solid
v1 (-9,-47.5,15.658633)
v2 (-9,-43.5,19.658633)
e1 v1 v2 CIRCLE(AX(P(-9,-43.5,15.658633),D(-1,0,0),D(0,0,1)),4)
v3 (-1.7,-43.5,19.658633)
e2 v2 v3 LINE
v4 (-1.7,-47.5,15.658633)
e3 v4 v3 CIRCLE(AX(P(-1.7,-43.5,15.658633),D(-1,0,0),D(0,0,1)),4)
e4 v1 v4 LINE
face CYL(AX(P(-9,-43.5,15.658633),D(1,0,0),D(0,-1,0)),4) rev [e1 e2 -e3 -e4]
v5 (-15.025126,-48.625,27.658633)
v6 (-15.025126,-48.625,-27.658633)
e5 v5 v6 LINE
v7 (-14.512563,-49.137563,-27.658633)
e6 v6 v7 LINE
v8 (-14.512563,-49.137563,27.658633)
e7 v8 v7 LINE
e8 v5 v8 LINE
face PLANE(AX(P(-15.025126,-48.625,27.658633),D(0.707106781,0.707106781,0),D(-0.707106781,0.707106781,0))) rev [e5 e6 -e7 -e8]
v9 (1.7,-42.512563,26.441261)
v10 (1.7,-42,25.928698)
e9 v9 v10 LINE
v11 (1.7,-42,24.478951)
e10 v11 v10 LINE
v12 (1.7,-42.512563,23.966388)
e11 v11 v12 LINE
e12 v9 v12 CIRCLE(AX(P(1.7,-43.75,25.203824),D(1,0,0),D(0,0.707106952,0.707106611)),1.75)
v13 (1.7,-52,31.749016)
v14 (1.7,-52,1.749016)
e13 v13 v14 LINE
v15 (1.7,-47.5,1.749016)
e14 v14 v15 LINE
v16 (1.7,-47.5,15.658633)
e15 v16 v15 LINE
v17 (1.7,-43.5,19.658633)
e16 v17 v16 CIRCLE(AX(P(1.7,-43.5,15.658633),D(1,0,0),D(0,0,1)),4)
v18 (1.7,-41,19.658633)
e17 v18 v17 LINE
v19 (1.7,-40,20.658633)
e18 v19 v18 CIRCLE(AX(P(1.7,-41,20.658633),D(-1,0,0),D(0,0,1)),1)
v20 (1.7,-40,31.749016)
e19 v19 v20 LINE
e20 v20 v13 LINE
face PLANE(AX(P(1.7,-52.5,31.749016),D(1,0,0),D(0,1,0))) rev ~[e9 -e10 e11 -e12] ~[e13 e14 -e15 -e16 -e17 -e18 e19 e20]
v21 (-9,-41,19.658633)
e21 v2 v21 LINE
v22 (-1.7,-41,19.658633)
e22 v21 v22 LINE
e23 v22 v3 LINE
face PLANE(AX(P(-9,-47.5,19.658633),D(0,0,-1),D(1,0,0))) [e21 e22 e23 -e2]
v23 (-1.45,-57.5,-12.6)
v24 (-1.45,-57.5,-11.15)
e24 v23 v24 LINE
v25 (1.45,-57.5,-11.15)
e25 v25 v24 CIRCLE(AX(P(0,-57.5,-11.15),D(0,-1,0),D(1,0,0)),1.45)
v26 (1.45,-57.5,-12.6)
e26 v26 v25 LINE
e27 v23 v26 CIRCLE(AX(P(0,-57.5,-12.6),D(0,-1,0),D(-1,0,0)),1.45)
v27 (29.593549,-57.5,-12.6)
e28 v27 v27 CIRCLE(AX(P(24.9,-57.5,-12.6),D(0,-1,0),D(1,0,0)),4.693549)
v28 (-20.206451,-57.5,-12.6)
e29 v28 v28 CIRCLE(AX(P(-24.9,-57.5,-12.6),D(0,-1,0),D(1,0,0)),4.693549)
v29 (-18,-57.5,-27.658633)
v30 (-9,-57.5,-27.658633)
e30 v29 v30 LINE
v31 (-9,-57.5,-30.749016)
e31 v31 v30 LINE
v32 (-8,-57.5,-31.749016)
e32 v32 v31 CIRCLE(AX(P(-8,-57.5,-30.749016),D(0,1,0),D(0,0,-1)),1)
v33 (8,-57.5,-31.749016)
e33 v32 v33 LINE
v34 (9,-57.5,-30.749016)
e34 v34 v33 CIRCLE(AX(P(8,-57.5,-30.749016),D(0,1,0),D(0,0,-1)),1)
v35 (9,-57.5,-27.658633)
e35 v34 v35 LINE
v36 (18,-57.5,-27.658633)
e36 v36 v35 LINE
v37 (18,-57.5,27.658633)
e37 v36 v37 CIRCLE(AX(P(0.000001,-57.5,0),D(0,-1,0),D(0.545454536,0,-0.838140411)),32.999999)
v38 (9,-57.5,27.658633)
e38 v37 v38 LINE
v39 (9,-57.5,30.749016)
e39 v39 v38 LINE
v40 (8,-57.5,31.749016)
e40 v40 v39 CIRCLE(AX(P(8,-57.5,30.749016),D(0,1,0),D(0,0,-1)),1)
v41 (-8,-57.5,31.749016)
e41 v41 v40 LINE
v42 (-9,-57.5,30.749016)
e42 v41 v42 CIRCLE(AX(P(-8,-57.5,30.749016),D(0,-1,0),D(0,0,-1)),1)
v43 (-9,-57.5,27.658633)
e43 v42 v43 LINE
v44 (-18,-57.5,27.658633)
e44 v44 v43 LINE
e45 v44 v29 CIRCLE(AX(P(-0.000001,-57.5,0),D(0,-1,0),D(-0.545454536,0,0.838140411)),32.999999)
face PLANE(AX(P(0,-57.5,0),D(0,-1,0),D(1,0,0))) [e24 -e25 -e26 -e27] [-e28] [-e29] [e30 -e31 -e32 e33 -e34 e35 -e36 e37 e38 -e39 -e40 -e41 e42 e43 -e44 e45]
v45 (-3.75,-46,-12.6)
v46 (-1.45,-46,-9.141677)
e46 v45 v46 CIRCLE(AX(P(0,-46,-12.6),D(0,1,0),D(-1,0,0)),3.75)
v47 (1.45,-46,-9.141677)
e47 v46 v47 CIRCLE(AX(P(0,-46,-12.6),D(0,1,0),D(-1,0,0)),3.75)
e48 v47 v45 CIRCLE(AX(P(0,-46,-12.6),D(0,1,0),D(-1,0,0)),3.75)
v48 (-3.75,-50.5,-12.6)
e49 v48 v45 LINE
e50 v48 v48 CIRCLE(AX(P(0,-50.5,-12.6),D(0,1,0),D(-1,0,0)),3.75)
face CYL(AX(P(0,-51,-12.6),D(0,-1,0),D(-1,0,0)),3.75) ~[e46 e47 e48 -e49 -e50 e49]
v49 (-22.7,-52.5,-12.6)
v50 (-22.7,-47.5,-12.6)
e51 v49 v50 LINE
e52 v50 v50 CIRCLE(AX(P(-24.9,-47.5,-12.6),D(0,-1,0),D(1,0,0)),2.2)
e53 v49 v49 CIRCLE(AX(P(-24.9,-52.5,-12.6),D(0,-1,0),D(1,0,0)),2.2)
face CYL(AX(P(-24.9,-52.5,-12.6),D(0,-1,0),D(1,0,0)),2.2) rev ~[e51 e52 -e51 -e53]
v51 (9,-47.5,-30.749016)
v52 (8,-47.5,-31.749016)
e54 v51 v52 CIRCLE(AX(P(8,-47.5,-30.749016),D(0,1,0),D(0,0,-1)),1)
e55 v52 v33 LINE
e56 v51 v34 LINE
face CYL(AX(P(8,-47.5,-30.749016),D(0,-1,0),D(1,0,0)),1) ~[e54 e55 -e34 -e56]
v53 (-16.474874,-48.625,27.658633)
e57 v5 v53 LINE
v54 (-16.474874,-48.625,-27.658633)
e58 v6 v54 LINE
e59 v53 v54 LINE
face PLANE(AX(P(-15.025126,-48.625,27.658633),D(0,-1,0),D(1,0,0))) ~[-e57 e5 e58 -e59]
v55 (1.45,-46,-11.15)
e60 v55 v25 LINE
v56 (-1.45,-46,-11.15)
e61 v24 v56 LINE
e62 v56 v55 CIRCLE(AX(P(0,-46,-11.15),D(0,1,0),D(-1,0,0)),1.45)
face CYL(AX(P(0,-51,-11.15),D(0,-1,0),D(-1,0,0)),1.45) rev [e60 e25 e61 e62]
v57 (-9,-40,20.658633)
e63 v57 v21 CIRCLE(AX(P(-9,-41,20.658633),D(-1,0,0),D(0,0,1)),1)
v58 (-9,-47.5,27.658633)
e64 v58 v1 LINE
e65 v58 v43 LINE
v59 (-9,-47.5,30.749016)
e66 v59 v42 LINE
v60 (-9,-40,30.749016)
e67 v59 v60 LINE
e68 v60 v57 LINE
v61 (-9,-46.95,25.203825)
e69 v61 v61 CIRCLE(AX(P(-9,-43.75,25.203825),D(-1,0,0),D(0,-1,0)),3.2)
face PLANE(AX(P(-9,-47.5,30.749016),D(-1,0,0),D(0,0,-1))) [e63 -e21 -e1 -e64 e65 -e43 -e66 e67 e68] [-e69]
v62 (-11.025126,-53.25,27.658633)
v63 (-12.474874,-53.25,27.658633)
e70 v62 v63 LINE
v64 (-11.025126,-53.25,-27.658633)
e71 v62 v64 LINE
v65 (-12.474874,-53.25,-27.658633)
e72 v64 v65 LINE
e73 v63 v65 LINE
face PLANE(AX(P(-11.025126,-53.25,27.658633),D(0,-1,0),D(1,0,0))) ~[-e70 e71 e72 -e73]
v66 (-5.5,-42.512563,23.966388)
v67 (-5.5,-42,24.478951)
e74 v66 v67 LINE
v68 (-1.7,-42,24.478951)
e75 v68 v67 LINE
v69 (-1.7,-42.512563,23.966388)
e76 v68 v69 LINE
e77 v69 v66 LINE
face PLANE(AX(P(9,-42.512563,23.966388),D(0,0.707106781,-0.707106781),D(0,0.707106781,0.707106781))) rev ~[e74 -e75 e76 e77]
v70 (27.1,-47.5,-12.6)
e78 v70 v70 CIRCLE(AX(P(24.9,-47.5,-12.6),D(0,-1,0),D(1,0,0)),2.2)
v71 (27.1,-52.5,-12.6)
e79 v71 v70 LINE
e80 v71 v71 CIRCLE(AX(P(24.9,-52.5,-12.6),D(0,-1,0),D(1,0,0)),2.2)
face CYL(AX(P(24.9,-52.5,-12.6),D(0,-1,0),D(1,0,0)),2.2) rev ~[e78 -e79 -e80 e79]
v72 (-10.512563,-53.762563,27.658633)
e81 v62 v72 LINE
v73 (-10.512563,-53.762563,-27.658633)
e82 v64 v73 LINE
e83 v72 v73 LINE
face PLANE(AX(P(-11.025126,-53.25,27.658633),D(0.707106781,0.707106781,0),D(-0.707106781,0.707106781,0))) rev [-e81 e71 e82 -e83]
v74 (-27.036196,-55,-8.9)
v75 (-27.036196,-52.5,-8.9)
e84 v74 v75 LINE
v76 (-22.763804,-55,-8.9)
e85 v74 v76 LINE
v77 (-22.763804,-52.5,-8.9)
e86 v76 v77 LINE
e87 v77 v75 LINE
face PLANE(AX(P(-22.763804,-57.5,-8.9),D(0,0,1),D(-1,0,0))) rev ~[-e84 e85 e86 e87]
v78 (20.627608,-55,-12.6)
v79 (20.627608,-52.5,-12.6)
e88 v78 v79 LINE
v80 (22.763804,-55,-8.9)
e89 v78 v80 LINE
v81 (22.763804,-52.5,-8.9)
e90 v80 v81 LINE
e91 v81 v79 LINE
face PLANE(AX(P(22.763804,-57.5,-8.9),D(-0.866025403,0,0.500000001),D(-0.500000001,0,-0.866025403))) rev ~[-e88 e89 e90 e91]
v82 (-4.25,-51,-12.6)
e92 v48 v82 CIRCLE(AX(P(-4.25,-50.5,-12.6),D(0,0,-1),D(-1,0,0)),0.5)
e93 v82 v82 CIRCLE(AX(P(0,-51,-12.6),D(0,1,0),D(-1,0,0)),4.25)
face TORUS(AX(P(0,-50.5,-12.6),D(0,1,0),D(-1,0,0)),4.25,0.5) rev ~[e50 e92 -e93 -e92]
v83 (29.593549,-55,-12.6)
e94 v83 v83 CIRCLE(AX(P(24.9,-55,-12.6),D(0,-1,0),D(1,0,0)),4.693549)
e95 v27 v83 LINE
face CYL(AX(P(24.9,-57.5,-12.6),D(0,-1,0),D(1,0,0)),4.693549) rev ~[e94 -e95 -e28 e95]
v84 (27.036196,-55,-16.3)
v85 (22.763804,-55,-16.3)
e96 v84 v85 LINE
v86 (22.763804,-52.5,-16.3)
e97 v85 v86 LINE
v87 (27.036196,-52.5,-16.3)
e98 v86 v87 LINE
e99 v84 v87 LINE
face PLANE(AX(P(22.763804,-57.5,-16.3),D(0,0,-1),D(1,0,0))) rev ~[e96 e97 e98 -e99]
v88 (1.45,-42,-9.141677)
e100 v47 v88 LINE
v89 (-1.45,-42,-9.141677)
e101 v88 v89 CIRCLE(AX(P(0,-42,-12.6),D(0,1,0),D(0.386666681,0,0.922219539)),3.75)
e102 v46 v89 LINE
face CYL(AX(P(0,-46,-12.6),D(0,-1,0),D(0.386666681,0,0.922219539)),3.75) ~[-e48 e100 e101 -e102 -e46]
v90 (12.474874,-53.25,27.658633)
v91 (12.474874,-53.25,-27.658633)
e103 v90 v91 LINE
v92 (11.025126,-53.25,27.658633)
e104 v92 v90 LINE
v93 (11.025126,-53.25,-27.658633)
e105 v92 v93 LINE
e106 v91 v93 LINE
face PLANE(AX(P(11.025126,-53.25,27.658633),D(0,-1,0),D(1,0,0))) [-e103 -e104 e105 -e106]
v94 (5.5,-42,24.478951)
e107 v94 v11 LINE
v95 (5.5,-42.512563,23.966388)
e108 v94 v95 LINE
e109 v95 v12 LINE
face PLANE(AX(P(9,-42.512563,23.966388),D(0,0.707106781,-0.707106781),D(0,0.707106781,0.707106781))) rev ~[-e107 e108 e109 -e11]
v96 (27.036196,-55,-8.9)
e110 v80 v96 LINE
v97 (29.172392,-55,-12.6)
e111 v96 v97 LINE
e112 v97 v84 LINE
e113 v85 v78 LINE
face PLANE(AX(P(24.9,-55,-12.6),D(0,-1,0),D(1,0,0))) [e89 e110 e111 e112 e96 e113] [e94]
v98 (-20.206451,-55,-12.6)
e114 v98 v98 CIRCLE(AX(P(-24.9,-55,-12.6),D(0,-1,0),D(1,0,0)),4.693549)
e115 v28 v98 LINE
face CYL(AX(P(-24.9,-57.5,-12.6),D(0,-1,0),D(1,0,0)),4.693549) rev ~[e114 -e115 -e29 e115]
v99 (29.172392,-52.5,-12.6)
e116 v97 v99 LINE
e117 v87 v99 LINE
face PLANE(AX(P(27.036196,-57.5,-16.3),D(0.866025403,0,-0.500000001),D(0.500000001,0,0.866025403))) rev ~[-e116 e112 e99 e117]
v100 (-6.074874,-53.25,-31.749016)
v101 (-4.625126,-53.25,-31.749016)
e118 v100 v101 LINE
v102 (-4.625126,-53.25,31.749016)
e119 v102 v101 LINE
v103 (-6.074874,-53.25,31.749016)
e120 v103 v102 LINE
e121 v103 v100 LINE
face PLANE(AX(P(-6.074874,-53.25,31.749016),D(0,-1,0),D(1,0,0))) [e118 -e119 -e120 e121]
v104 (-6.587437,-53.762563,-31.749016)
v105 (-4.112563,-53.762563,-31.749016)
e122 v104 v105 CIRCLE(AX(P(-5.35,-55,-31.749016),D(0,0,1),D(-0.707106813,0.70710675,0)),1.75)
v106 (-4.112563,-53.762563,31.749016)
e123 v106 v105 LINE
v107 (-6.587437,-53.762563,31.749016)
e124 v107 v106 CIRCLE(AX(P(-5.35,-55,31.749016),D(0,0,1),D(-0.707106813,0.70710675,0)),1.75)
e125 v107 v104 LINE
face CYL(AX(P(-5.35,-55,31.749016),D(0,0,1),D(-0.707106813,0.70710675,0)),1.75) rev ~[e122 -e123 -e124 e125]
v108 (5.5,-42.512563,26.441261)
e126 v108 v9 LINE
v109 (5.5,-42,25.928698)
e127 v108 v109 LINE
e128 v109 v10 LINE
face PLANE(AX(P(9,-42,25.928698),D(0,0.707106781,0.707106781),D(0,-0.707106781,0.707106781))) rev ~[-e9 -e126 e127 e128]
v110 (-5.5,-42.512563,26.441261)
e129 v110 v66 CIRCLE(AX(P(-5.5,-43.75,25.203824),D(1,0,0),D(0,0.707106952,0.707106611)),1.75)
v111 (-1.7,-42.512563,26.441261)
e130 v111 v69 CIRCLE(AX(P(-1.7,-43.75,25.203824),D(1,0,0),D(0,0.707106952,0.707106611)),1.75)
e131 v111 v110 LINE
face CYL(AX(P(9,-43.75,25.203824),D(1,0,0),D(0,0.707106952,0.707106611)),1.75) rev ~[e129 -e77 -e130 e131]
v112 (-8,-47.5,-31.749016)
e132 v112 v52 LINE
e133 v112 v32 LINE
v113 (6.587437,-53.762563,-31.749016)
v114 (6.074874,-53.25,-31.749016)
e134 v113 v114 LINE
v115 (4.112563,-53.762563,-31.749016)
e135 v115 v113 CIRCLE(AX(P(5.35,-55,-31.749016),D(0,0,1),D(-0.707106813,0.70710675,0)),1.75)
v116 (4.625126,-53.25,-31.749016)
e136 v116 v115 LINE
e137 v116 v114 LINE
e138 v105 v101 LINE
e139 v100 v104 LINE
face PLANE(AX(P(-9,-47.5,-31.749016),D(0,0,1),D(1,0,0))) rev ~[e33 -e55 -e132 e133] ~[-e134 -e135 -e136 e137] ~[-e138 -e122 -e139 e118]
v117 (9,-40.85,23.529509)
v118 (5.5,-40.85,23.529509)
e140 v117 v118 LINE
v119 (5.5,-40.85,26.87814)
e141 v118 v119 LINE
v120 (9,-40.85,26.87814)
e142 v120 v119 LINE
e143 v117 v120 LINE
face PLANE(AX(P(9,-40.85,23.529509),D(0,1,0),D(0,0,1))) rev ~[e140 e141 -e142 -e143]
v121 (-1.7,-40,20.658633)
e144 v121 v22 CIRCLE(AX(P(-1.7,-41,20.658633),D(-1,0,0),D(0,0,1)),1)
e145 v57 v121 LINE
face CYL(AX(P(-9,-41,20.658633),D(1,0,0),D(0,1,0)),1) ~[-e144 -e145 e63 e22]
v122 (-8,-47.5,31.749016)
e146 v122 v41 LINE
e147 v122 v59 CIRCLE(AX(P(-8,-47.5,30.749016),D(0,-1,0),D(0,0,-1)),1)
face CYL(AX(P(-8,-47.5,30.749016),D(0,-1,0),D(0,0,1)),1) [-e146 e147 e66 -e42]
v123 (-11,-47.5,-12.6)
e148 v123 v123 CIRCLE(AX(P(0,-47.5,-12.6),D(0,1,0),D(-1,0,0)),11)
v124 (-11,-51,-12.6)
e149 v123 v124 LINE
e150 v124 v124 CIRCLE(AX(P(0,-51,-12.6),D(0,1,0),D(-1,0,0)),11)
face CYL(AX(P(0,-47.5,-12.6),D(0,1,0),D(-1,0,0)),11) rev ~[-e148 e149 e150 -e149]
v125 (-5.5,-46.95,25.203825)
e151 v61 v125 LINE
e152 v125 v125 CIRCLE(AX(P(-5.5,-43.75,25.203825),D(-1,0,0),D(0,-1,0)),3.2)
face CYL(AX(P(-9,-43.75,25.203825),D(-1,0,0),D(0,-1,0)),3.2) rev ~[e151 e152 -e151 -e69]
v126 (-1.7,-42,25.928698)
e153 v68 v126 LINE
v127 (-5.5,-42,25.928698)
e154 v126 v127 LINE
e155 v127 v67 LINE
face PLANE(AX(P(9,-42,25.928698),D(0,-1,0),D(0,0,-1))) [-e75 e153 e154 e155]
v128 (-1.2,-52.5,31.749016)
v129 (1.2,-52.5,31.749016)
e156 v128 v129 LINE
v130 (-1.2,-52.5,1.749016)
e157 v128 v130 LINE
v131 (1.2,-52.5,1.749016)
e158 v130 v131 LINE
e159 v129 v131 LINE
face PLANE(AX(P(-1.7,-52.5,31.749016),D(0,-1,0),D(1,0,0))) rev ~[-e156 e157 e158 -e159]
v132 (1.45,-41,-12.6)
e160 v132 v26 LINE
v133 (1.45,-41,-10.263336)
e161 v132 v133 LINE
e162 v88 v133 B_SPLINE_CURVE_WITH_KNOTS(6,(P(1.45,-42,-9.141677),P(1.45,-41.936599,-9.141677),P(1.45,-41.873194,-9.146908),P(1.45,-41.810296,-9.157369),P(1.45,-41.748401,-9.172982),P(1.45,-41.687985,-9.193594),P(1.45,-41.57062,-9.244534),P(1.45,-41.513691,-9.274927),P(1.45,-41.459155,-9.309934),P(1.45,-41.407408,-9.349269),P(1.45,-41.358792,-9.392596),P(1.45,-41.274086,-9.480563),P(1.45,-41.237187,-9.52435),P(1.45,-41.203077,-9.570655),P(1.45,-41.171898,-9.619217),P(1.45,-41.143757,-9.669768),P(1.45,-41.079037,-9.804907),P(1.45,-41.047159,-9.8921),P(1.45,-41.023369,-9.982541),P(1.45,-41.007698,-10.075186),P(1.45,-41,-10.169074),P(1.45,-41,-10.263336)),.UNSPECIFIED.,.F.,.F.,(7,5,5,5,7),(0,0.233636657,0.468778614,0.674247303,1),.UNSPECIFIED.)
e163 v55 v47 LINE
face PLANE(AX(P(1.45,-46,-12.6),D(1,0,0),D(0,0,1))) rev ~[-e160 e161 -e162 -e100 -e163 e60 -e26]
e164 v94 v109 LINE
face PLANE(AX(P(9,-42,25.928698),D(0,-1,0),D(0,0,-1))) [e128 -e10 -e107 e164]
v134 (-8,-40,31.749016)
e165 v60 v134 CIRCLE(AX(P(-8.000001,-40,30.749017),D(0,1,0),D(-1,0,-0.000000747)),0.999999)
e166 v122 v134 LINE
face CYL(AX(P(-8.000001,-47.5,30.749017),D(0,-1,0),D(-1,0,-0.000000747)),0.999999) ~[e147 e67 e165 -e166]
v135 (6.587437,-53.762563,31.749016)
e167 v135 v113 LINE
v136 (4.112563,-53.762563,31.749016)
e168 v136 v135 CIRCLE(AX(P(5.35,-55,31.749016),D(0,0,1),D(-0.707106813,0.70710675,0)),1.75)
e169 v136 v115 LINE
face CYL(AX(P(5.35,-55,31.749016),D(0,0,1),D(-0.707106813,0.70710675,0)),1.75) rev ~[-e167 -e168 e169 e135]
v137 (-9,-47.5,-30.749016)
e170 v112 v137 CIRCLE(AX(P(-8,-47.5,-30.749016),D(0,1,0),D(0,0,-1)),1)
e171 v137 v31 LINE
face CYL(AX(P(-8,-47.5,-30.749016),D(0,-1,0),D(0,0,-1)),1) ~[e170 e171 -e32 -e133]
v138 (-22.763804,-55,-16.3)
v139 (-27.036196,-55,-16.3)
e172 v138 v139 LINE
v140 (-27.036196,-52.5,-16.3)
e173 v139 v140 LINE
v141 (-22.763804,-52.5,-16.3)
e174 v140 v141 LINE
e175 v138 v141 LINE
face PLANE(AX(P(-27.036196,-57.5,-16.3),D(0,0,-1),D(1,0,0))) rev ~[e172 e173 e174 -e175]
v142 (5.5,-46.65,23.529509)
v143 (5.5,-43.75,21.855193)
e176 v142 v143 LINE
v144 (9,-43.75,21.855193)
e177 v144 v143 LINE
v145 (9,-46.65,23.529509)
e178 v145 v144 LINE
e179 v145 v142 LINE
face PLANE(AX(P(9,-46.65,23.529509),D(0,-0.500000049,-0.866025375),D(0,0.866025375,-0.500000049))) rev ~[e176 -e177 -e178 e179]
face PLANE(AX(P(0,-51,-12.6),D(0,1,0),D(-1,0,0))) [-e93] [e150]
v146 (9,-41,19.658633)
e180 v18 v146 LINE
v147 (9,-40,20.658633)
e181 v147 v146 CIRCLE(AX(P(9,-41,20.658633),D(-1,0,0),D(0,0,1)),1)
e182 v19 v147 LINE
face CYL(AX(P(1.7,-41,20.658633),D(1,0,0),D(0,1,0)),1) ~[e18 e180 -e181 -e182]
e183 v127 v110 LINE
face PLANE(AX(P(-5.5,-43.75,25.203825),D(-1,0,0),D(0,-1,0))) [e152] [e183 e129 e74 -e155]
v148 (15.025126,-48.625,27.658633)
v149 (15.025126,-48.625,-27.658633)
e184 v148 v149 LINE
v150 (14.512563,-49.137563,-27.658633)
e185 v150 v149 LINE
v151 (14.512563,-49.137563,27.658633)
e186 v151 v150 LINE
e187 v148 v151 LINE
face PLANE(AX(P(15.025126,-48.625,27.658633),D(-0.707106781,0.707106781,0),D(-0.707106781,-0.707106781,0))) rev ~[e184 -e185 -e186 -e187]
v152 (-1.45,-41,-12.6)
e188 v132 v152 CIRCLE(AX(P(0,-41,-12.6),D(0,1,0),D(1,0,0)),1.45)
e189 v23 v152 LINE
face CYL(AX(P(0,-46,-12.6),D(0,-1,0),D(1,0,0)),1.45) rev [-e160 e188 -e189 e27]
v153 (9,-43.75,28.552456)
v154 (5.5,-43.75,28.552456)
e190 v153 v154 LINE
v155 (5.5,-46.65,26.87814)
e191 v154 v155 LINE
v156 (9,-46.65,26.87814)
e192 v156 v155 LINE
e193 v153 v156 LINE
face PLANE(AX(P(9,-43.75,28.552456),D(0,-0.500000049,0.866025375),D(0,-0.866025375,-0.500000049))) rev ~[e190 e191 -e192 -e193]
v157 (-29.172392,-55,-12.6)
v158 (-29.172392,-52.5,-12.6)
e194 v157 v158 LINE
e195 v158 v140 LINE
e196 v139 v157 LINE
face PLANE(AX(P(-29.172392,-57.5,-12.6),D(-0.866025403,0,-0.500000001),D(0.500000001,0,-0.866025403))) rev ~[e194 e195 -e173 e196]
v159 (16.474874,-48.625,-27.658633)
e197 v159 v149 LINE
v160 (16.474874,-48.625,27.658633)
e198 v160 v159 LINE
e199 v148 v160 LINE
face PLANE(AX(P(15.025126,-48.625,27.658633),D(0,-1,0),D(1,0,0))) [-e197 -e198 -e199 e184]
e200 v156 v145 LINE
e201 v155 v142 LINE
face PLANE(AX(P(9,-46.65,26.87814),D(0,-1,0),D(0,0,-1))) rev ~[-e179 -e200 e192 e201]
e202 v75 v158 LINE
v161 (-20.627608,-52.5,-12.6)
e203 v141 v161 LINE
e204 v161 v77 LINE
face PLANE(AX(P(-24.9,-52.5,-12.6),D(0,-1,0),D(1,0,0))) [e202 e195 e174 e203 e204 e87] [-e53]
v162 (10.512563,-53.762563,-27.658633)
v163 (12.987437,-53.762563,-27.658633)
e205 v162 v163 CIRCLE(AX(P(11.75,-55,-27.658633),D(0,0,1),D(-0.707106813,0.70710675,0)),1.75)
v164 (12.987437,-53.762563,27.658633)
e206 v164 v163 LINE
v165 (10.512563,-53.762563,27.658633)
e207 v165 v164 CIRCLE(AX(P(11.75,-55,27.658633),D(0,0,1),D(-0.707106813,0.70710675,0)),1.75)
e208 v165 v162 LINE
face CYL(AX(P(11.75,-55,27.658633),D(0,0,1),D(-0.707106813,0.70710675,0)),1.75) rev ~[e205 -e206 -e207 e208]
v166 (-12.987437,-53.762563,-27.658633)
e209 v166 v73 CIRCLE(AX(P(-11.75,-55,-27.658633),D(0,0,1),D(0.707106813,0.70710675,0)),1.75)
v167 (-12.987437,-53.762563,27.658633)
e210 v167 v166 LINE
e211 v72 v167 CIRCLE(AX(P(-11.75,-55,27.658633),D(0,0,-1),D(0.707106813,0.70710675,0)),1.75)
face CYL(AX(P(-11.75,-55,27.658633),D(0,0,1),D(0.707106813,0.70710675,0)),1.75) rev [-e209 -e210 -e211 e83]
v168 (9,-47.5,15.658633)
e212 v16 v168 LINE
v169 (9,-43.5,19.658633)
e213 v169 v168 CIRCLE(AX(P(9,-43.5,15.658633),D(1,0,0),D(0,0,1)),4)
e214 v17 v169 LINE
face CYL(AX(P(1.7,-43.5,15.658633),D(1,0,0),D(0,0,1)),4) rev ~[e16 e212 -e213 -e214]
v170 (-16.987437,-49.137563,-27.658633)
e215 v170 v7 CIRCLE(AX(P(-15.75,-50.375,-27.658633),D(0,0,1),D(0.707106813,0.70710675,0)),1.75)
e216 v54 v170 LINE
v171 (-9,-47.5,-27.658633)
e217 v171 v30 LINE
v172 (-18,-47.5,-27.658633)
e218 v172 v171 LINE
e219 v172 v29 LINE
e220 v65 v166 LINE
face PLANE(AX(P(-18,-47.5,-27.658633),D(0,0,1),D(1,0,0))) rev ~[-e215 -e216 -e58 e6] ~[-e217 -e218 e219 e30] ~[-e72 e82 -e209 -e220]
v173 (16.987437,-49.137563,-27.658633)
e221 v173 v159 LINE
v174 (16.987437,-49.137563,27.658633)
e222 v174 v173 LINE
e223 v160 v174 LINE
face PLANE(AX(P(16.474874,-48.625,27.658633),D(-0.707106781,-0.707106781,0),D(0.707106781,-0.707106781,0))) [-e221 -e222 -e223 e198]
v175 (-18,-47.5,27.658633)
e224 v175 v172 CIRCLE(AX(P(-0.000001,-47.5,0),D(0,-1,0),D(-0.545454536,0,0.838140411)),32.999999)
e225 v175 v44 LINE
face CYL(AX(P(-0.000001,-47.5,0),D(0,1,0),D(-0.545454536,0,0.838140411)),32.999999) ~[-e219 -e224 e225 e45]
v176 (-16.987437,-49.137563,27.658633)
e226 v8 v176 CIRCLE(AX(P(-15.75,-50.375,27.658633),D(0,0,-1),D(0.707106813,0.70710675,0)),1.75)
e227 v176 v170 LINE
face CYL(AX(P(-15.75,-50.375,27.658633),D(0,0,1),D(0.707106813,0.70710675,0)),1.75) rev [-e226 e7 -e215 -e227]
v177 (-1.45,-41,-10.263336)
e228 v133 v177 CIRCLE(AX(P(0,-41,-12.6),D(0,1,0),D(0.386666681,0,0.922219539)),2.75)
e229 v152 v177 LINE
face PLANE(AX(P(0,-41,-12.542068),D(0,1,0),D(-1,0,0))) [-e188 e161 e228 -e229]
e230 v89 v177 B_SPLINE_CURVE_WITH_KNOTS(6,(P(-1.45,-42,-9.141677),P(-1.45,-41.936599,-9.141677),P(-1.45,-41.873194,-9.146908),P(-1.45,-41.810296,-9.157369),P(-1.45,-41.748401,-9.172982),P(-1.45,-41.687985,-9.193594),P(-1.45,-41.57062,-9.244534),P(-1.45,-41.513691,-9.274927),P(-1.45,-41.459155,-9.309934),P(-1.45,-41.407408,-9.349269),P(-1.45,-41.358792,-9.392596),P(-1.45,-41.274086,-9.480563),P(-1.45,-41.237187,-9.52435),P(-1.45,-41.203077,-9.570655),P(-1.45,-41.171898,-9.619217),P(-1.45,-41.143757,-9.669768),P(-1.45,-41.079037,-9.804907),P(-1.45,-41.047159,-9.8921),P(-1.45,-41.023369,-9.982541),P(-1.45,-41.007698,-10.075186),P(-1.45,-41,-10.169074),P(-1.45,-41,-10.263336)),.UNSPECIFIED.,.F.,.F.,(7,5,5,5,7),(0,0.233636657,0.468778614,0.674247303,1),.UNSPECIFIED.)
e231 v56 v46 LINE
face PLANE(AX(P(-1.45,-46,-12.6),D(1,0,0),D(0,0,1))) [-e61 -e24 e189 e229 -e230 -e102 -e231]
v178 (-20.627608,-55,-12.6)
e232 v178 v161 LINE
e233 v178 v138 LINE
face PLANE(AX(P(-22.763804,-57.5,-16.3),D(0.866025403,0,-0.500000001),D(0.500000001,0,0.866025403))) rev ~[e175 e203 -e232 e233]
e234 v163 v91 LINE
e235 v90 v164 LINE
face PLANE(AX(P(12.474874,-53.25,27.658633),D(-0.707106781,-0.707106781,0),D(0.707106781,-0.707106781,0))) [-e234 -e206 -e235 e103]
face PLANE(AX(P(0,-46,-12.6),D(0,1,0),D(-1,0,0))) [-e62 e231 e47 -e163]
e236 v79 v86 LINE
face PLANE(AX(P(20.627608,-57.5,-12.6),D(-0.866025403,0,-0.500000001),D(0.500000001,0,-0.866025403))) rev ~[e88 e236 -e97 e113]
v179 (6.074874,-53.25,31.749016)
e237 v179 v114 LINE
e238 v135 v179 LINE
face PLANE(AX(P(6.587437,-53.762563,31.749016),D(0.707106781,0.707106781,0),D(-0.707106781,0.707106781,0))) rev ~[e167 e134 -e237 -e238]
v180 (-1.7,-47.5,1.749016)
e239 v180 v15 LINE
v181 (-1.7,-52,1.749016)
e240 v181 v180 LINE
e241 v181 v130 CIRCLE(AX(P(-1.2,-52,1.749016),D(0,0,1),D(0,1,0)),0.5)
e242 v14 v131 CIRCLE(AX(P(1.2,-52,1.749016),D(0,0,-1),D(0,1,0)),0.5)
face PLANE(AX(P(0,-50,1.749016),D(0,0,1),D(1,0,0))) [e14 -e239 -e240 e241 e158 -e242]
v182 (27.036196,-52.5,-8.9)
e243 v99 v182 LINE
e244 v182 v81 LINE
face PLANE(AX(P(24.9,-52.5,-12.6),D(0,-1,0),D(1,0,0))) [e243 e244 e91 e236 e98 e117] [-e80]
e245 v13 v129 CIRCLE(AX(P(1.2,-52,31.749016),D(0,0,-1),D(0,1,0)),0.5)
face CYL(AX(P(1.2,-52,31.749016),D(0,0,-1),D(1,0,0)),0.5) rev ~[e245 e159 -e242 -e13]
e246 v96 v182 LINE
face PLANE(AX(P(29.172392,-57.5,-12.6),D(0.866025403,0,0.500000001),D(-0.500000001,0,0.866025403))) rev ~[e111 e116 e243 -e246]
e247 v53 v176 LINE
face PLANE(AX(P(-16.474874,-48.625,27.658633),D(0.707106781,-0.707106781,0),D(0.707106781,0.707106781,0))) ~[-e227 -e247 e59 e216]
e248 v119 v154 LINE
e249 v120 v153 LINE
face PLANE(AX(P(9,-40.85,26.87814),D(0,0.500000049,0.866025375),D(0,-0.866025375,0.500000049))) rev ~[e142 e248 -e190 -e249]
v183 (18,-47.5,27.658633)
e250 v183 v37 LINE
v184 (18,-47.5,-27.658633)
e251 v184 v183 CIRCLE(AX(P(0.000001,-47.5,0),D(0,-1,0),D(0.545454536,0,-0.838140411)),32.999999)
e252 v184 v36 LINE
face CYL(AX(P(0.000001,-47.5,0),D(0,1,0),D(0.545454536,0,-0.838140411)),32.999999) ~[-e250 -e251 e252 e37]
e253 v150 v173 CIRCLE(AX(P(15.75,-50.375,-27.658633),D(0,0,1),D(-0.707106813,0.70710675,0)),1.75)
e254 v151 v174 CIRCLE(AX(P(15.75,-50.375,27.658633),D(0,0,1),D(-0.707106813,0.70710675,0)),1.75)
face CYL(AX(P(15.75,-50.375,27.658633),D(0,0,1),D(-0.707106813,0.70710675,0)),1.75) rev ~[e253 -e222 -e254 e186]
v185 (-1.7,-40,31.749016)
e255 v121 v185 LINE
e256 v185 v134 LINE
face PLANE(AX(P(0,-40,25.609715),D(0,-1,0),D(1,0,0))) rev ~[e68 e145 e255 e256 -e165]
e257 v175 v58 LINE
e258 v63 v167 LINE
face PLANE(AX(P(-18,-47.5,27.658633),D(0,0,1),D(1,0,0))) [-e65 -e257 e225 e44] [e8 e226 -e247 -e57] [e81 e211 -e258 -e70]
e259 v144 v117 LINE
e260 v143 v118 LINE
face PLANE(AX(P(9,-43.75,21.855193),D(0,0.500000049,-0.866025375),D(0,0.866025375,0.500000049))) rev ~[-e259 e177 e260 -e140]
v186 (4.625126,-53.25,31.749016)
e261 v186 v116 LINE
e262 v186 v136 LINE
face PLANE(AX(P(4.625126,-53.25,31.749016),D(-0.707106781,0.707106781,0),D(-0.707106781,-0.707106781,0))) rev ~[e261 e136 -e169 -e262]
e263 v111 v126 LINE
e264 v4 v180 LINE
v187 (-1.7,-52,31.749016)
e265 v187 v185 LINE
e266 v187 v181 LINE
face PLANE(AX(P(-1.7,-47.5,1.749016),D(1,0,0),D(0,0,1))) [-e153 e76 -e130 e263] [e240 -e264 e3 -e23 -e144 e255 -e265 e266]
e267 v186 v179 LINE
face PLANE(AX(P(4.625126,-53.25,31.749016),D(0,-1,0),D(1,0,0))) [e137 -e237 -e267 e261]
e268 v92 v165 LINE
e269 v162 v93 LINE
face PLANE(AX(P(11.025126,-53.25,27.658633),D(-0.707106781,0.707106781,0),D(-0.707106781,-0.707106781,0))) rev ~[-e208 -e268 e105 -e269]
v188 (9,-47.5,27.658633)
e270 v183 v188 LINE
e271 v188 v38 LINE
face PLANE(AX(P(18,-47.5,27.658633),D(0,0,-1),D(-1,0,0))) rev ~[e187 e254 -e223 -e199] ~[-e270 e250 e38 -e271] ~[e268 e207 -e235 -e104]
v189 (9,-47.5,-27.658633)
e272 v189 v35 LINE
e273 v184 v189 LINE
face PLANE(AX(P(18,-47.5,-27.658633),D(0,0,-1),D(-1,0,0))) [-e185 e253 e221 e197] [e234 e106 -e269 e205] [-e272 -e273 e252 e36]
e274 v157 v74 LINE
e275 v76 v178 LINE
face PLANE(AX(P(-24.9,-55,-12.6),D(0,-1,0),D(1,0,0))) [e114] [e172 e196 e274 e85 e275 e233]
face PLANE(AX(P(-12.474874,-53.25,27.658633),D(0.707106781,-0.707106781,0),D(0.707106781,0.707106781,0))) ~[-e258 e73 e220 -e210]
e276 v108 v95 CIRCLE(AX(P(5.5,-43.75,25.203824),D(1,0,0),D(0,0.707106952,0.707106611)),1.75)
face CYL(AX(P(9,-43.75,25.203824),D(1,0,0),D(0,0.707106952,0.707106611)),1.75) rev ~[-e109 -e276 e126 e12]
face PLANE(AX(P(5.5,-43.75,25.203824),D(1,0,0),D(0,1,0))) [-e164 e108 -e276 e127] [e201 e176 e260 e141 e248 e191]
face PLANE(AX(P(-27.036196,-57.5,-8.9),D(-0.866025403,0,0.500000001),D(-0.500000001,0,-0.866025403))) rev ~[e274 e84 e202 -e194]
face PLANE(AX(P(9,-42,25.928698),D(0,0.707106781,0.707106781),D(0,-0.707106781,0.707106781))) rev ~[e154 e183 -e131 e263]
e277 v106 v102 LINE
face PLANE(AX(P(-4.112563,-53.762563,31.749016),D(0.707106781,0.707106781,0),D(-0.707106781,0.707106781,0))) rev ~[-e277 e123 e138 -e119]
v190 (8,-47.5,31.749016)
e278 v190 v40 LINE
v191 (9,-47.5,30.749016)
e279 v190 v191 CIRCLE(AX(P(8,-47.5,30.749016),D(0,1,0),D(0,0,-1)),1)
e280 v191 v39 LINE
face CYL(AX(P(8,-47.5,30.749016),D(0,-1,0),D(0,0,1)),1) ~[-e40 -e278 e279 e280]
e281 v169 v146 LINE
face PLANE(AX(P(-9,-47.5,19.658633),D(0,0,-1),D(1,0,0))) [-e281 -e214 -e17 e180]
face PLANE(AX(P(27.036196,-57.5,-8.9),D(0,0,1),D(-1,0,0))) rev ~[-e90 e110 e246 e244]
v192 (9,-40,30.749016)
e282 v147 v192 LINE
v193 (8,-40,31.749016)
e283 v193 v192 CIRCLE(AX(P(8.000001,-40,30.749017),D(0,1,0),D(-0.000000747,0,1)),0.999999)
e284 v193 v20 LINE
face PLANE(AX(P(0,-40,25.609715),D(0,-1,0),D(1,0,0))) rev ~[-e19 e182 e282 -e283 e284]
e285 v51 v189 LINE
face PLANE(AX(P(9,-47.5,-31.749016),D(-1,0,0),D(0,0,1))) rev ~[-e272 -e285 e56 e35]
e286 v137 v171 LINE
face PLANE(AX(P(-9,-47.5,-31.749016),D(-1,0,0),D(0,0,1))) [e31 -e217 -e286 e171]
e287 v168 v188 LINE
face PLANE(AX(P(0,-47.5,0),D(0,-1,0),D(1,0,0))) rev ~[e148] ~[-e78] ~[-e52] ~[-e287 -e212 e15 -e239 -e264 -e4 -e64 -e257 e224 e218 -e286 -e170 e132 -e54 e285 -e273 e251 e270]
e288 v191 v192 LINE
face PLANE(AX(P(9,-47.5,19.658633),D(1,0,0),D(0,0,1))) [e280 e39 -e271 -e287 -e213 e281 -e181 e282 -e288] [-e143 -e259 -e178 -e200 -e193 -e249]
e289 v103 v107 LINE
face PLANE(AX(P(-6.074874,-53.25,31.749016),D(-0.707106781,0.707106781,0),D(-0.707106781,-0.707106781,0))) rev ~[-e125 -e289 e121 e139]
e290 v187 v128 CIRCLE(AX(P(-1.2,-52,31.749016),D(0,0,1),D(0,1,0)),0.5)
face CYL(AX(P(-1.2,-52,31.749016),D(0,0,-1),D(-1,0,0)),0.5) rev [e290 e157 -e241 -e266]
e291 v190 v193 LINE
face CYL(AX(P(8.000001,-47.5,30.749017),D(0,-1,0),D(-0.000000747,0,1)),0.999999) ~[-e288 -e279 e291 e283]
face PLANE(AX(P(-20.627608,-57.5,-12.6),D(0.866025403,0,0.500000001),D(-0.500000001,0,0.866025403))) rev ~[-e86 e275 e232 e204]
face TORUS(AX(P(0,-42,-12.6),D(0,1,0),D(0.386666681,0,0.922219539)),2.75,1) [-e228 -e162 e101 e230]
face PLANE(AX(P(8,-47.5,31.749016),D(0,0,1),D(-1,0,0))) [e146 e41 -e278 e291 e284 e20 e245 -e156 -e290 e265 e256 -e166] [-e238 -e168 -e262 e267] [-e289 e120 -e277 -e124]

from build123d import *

# Parameters (mm, degrees)
PAD012_DEPTH    = 10
SKETCH027_W     = 3.4
SKETCH027_H     = 5
POCKET_DEPTH    = 30
POCKET012_DEPTH = 247.759716
SKETCH029_R     = 11
POCKET013_DEPTH = 3.5
POCKET014_DEPTH = 5
SKETCH031_R     = 2.2
POCKET015_DEPTH = 5.001
POCKET016_DEPTH = 243.669334
FILLET_R        = 0.5
FILLET001_R     = 1
FILLET002_R     = 1
SKETCH048_R     = 3.75
PAD019_DEPTH    = 5
SKETCH049_R     = 4.693549
POCKET026_DEPTH = 2.5
FILLET012_R     = 0.5
PAD020_DEPTH    = 5
FILLET013_R     = 1
PAD021_DEPTH    = 7.5
POCKET029_DEPTH = 5
POCKET030_DEPTH = 18
SKETCH055_W     = 3.4
SKETCH055_H     = 44.110421
POCKET031_DEPTH = 10
POCKET032_DEPTH = 3.5
SKETCH057_R     = 3.2
POCKET033_DEPTH = 3.5
FILLET018_R     = 4
FILLET019_R     = 1


with BuildPart() as part:
    # Sketch026 (on ShapeBinder) → Pad012 (new body)
    with BuildSketch(Plane.XZ.offset(47.5)):
        with BuildLine():
            ThreePointArc((18, -27.658633), (33, 0), (18, 27.658633))
            Line((18, 27.658633), (9, 27.658633))
            Line((9, 31.749016), (9, 27.658633))
            Line((-9, 31.749016), (9, 31.749016))
            Line((-9, 31.749016), (-9, 27.658633))
            Line((-18, 27.658633), (-9, 27.658633))
            ThreePointArc((-18, 27.658633), (-33, 0), (-18, -27.658633))
            Line((-18, -27.658633), (-9, -27.658633))
            Line((-9, -31.749016), (-9, -27.658633))
            Line((-9, -31.749016), (9, -31.749016))
            Line((9, -31.749016), (9, -27.658633))
            Line((18, -27.658633), (9, -27.658633))
        make_face()
        with BuildLine():
            ThreePointArc((-1.45, -12.6), (0, -14.05), (1.45, -12.6))
            Line((1.45, -12.6), (1.45, -11.15))
            ThreePointArc((1.45, -11.15), (0, -9.7), (-1.45, -11.15))
            Line((-1.45, -12.6), (-1.45, -11.15))
        make_face(mode=Mode.SUBTRACT)
    extrude(amount=PAD012_DEPTH)

    # Sketch027 (on Face4 of Pad012) → Pocket (cut)
    with BuildSketch(Plane(origin=(0, -4.5, 31.749016), x_dir=(1, 0, 0), z_dir=(0, 0, 1))):
        with Locations((0, -45.5)):
            Rectangle(SKETCH027_W, SKETCH027_H)
    extrude(amount=-POCKET_DEPTH, mode=Mode.SUBTRACT)

    # Sketch028 (on Face14 of Pocket) → Pocket012 (cut, through all)
    with BuildSketch(Plane(origin=(0, -4.5, 31.749016), x_dir=(1, 0, 0), z_dir=(0, 0, 1))):
        with BuildLine():
            Line((-6.074874, -48.75), (-4.625126, -48.75))
            Line((-4.112563, -49.262563), (-4.625126, -48.75))
            ThreePointArc((-6.587437, -49.262563), (-5.35, -52.25), (-4.112563, -49.262563))
            Line((-6.074874, -48.75), (-6.587437, -49.262563))
        make_face()
        with BuildLine():
            Line((4.625126, -48.75), (6.074874, -48.75))
            Line((6.587437, -49.262563), (6.074874, -48.75))
            ThreePointArc((4.112563, -49.262563), (5.35, -52.25), (6.587437, -49.262563))
            Line((4.625126, -48.75), (4.112563, -49.262563))
        make_face()
    extrude(amount=-POCKET012_DEPTH, mode=Mode.SUBTRACT)

    # Sketch029 (on Face4 of Pocket012) → Pocket013 (cut)
    with BuildSketch(Plane(origin=(0, -47.5, 0), x_dir=(-1, 0, 0), z_dir=(0, 1, 0))):
        with Locations((0, -12.6)):
            Circle(SKETCH029_R)
    extrude(amount=-POCKET013_DEPTH, mode=Mode.SUBTRACT)

    # Sketch030 (on Face5 of Pocket013) → Pocket014 (cut)
    with BuildSketch(Plane.XZ.offset(57.5)):
        Polygon((27.036196, -16.3), (29.172392, -12.6), (27.036196, -8.9), (22.763804, -8.9), (20.627608, -12.6), (22.763804, -16.3), align=None)
        Polygon((-22.763804, -16.3), (-20.627608, -12.6), (-22.763804, -8.9), (-27.036196, -8.9), (-29.172392, -12.6), (-27.036196, -16.3), align=None)
    extrude(amount=-POCKET014_DEPTH, mode=Mode.SUBTRACT)

    # Sketch031 (on Face46 of Pocket014) → Pocket015 (cut, through all)
    with BuildSketch(Plane.XZ.offset(52.5)):
        with Locations((24.9, -12.6)):
            Circle(SKETCH031_R)
        with Locations((-24.9, -12.6)):
            Circle(SKETCH031_R)
    extrude(amount=-POCKET015_DEPTH, mode=Mode.SUBTRACT)

    # Sketch032 (on Face3 of Pocket015) → Pocket016 (cut, through all)
    with BuildSketch(Plane(origin=(0, -4.5, 27.658633), x_dir=(1, 0, 0), z_dir=(0, 0, 1))):
        with BuildLine():
            Line((11.025126, -48.75), (12.474874, -48.75))
            Line((12.474874, -48.75), (12.987437, -49.262563))
            ThreePointArc((10.512563, -49.262563), (11.75, -52.25), (12.987437, -49.262563))
            Line((11.025126, -48.75), (10.512563, -49.262563))
        make_face()
        with BuildLine():
            Line((15.025126, -44.125), (16.474874, -44.125))
            Line((16.474874, -44.125), (16.987437, -44.637563))
            ThreePointArc((14.512563, -44.637563), (15.75, -47.625), (16.987437, -44.637563))
            Line((15.025126, -44.125), (14.512563, -44.637563))
        make_face()
    pocket016 = extrude(amount=-POCKET016_DEPTH, mode=Mode.SUBTRACT)

    # Mirrored: Pocket016 across Sketch032 V_Axis
    add(pocket016.mirror(Plane(origin=(0, -4.5, 27.658633), x_dir=(0, 0, 1), z_dir=(1, 0, 0))), mode=Mode.SUBTRACT)

    # Fillet
    fillet_edges = [part.edges().sort_by_distance(p)[0] for p in [
        (-1.7, -52.5, 16.749016),
        (1.7, -52.5, 16.749016),
    ]]
    fillet(fillet_edges, radius=FILLET_R)

    # Fillet001
    fillet001_edges = [part.edges().sort_by_distance(p)[0] for p in [
        (-9, -52.5, 31.749016),
        (9, -52.5, 31.749016),
    ]]
    fillet(fillet001_edges, radius=FILLET001_R)

    # Fillet002
    fillet002_edges = [part.edges().sort_by_distance(p)[0] for p in [
        (9, -52.5, -31.749016),
        (-9, -52.5, -31.749016),
    ]]
    fillet(fillet002_edges, radius=FILLET002_R)

    # Sketch048 (on Face53 of Fillet002) → Pad019 (join)
    with BuildSketch(Plane(origin=(0, -51, 0), x_dir=(-1, 0, 0), z_dir=(0, 1, 0))):
        with Locations((0, -12.6)):
            Circle(SKETCH048_R)
        with BuildLine():
            ThreePointArc((1.45, -11.15), (0, -9.7), (-1.45, -11.15))
            Line((-1.45, -11.15), (-1.45, -12.6))
            ThreePointArc((-1.45, -12.6), (0, -14.05), (1.45, -12.6))
            Line((1.45, -11.15), (1.45, -12.6))
        make_face(mode=Mode.SUBTRACT)
    extrude(amount=PAD019_DEPTH)

    # Sketch049 (on Face24 of Pad019) → Pocket026 (cut)
    with BuildSketch(Plane.XZ.offset(57.5)):
        with Locations((-24.9, -12.6)):
            Circle(SKETCH049_R)
        with Locations((24.9, -12.6)):
            Circle(SKETCH049_R)
    extrude(amount=-POCKET026_DEPTH, mode=Mode.SUBTRACT)

    # Fillet012
    fillet012_edges = [part.edges().sort_by_distance(p)[0] for p in [
        (3.75, -51, -12.6),
    ]]
    fillet(fillet012_edges, radius=FILLET012_R)

    # Sketch050 (on Face76 of Pad019) → Pad020 (join)
    with BuildSketch(Plane(origin=(0, -46, 0), x_dir=(-1, 0, 0), z_dir=(0, 1, 0))):
        with BuildLine():
            ThreePointArc((-1.45, -9.141677), (0, -16.35), (1.45, -9.141677))
            Line((1.45, -12.6), (1.45, -9.141677))
            ThreePointArc((-1.45, -12.6), (0, -14.05), (1.45, -12.6))
            Line((-1.45, -12.6), (-1.45, -9.141677))
        make_face()
    extrude(amount=PAD020_DEPTH)

    # Fillet013
    fillet013_edges = [part.edges().sort_by_distance(p)[0] for p in [
        (0, -41, -16.35),
    ]]
    fillet(fillet013_edges, radius=FILLET013_R)

    # Sketch053 (on Face39 of Fillet013) → Pad021 (join)
    with BuildSketch(Plane(origin=(0, -47.5, 0), x_dir=(-1, 0, 0), z_dir=(0, 1, 0))):
        with BuildLine():
            Line((-8, 31.749016), (8, 31.749016))
            ThreePointArc((9, 30.749016), (8.707107, 31.456123), (8, 31.749016))
            Line((9, 30.749016), (9, 19.658633))
            Line((9, 19.658633), (-9, 19.658633))
            Line((-9, 19.658633), (-9, 30.749016))
            ThreePointArc((-8, 31.749016), (-8.707107, 31.456123), (-9, 30.749016))
        make_face()
    extrude(amount=PAD021_DEPTH)

    # Sketch030 (on Face5 of Pocket013) → Pocket029 (cut)
    with BuildSketch(Plane.XZ.offset(57.5)):
        Polygon((27.036196, -16.3), (29.172392, -12.6), (27.036196, -8.9), (22.763804, -8.9), (20.627608, -12.6), (22.763804, -16.3), align=None)
        Polygon((-22.763804, -16.3), (-20.627608, -12.6), (-22.763804, -8.9), (-27.036196, -8.9), (-29.172392, -12.6), (-27.036196, -16.3), align=None)
    extrude(amount=-POCKET029_DEPTH, mode=Mode.SUBTRACT)

    # Sketch054 (on Face56 of Pocket029) → Pocket030 (cut)
    with BuildSketch(Plane(origin=(9, -4.5, 0), x_dir=(0, 1, 0), z_dir=(1, 0, 0))):
        with BuildLine():
            ThreePointArc((-38.012563, 26.441261), (-41, 25.203825), (-38.012563, 23.966388))
            Line((-38.012563, 23.966388), (-37.5, 24.478951))
            Line((-37.5, 25.928698), (-37.5, 24.478951))
            Line((-37.5, 25.928698), (-38.012563, 26.441261))
        make_face()
    extrude(amount=-POCKET030_DEPTH, mode=Mode.SUBTRACT)

    # Sketch055 (on Face39 of Pocket030) → Pocket031 (cut)
    with BuildSketch(Plane(origin=(0, -47.5, 0), x_dir=(-1, 0, 0), z_dir=(0, 1, 0))):
        with Locations((0, 23.804226)):
            Rectangle(SKETCH055_W, SKETCH055_H)
    extrude(amount=POCKET031_DEPTH, mode=Mode.SUBTRACT)

    # Sketch056 (on Face56 of Pocket031) → Pocket032 (cut)
    with BuildSketch(Plane(origin=(9, -4.5, 0), x_dir=(0, 1, 0), z_dir=(1, 0, 0))):
        Polygon((-36.35, 23.529509), (-36.35, 26.87814), (-39.25, 28.552456), (-42.15, 26.87814), (-42.15, 23.529509), (-39.25, 21.855193), align=None)
    extrude(amount=-POCKET032_DEPTH, mode=Mode.SUBTRACT)

    # Sketch057 (on Face74 of Pocket032) → Pocket033 (cut)
    with BuildSketch(Plane(origin=(-9, -4.5, 0), x_dir=(0, -1, 0), z_dir=(-1, 0, 0))):
        with Locations((39.25, 25.203825)):
            Circle(SKETCH057_R)
    extrude(amount=-POCKET033_DEPTH, mode=Mode.SUBTRACT)

    # Fillet018
    fillet018_edges = [part.edges().sort_by_distance(p)[0] for p in [
        (-5.35, -47.5, 19.658633),
        (5.35, -47.5, 19.658633),
    ]]
    fillet(fillet018_edges, radius=FILLET018_R)

    # Fillet019
    fillet019_edges = [part.edges().sort_by_distance(p)[0] for p in [
        (5.35, -40, 19.658633),
        (-5.35, -40, 19.658633),
    ]]
    fillet(fillet019_edges, radius=FILLET019_R)


solid = part.part
